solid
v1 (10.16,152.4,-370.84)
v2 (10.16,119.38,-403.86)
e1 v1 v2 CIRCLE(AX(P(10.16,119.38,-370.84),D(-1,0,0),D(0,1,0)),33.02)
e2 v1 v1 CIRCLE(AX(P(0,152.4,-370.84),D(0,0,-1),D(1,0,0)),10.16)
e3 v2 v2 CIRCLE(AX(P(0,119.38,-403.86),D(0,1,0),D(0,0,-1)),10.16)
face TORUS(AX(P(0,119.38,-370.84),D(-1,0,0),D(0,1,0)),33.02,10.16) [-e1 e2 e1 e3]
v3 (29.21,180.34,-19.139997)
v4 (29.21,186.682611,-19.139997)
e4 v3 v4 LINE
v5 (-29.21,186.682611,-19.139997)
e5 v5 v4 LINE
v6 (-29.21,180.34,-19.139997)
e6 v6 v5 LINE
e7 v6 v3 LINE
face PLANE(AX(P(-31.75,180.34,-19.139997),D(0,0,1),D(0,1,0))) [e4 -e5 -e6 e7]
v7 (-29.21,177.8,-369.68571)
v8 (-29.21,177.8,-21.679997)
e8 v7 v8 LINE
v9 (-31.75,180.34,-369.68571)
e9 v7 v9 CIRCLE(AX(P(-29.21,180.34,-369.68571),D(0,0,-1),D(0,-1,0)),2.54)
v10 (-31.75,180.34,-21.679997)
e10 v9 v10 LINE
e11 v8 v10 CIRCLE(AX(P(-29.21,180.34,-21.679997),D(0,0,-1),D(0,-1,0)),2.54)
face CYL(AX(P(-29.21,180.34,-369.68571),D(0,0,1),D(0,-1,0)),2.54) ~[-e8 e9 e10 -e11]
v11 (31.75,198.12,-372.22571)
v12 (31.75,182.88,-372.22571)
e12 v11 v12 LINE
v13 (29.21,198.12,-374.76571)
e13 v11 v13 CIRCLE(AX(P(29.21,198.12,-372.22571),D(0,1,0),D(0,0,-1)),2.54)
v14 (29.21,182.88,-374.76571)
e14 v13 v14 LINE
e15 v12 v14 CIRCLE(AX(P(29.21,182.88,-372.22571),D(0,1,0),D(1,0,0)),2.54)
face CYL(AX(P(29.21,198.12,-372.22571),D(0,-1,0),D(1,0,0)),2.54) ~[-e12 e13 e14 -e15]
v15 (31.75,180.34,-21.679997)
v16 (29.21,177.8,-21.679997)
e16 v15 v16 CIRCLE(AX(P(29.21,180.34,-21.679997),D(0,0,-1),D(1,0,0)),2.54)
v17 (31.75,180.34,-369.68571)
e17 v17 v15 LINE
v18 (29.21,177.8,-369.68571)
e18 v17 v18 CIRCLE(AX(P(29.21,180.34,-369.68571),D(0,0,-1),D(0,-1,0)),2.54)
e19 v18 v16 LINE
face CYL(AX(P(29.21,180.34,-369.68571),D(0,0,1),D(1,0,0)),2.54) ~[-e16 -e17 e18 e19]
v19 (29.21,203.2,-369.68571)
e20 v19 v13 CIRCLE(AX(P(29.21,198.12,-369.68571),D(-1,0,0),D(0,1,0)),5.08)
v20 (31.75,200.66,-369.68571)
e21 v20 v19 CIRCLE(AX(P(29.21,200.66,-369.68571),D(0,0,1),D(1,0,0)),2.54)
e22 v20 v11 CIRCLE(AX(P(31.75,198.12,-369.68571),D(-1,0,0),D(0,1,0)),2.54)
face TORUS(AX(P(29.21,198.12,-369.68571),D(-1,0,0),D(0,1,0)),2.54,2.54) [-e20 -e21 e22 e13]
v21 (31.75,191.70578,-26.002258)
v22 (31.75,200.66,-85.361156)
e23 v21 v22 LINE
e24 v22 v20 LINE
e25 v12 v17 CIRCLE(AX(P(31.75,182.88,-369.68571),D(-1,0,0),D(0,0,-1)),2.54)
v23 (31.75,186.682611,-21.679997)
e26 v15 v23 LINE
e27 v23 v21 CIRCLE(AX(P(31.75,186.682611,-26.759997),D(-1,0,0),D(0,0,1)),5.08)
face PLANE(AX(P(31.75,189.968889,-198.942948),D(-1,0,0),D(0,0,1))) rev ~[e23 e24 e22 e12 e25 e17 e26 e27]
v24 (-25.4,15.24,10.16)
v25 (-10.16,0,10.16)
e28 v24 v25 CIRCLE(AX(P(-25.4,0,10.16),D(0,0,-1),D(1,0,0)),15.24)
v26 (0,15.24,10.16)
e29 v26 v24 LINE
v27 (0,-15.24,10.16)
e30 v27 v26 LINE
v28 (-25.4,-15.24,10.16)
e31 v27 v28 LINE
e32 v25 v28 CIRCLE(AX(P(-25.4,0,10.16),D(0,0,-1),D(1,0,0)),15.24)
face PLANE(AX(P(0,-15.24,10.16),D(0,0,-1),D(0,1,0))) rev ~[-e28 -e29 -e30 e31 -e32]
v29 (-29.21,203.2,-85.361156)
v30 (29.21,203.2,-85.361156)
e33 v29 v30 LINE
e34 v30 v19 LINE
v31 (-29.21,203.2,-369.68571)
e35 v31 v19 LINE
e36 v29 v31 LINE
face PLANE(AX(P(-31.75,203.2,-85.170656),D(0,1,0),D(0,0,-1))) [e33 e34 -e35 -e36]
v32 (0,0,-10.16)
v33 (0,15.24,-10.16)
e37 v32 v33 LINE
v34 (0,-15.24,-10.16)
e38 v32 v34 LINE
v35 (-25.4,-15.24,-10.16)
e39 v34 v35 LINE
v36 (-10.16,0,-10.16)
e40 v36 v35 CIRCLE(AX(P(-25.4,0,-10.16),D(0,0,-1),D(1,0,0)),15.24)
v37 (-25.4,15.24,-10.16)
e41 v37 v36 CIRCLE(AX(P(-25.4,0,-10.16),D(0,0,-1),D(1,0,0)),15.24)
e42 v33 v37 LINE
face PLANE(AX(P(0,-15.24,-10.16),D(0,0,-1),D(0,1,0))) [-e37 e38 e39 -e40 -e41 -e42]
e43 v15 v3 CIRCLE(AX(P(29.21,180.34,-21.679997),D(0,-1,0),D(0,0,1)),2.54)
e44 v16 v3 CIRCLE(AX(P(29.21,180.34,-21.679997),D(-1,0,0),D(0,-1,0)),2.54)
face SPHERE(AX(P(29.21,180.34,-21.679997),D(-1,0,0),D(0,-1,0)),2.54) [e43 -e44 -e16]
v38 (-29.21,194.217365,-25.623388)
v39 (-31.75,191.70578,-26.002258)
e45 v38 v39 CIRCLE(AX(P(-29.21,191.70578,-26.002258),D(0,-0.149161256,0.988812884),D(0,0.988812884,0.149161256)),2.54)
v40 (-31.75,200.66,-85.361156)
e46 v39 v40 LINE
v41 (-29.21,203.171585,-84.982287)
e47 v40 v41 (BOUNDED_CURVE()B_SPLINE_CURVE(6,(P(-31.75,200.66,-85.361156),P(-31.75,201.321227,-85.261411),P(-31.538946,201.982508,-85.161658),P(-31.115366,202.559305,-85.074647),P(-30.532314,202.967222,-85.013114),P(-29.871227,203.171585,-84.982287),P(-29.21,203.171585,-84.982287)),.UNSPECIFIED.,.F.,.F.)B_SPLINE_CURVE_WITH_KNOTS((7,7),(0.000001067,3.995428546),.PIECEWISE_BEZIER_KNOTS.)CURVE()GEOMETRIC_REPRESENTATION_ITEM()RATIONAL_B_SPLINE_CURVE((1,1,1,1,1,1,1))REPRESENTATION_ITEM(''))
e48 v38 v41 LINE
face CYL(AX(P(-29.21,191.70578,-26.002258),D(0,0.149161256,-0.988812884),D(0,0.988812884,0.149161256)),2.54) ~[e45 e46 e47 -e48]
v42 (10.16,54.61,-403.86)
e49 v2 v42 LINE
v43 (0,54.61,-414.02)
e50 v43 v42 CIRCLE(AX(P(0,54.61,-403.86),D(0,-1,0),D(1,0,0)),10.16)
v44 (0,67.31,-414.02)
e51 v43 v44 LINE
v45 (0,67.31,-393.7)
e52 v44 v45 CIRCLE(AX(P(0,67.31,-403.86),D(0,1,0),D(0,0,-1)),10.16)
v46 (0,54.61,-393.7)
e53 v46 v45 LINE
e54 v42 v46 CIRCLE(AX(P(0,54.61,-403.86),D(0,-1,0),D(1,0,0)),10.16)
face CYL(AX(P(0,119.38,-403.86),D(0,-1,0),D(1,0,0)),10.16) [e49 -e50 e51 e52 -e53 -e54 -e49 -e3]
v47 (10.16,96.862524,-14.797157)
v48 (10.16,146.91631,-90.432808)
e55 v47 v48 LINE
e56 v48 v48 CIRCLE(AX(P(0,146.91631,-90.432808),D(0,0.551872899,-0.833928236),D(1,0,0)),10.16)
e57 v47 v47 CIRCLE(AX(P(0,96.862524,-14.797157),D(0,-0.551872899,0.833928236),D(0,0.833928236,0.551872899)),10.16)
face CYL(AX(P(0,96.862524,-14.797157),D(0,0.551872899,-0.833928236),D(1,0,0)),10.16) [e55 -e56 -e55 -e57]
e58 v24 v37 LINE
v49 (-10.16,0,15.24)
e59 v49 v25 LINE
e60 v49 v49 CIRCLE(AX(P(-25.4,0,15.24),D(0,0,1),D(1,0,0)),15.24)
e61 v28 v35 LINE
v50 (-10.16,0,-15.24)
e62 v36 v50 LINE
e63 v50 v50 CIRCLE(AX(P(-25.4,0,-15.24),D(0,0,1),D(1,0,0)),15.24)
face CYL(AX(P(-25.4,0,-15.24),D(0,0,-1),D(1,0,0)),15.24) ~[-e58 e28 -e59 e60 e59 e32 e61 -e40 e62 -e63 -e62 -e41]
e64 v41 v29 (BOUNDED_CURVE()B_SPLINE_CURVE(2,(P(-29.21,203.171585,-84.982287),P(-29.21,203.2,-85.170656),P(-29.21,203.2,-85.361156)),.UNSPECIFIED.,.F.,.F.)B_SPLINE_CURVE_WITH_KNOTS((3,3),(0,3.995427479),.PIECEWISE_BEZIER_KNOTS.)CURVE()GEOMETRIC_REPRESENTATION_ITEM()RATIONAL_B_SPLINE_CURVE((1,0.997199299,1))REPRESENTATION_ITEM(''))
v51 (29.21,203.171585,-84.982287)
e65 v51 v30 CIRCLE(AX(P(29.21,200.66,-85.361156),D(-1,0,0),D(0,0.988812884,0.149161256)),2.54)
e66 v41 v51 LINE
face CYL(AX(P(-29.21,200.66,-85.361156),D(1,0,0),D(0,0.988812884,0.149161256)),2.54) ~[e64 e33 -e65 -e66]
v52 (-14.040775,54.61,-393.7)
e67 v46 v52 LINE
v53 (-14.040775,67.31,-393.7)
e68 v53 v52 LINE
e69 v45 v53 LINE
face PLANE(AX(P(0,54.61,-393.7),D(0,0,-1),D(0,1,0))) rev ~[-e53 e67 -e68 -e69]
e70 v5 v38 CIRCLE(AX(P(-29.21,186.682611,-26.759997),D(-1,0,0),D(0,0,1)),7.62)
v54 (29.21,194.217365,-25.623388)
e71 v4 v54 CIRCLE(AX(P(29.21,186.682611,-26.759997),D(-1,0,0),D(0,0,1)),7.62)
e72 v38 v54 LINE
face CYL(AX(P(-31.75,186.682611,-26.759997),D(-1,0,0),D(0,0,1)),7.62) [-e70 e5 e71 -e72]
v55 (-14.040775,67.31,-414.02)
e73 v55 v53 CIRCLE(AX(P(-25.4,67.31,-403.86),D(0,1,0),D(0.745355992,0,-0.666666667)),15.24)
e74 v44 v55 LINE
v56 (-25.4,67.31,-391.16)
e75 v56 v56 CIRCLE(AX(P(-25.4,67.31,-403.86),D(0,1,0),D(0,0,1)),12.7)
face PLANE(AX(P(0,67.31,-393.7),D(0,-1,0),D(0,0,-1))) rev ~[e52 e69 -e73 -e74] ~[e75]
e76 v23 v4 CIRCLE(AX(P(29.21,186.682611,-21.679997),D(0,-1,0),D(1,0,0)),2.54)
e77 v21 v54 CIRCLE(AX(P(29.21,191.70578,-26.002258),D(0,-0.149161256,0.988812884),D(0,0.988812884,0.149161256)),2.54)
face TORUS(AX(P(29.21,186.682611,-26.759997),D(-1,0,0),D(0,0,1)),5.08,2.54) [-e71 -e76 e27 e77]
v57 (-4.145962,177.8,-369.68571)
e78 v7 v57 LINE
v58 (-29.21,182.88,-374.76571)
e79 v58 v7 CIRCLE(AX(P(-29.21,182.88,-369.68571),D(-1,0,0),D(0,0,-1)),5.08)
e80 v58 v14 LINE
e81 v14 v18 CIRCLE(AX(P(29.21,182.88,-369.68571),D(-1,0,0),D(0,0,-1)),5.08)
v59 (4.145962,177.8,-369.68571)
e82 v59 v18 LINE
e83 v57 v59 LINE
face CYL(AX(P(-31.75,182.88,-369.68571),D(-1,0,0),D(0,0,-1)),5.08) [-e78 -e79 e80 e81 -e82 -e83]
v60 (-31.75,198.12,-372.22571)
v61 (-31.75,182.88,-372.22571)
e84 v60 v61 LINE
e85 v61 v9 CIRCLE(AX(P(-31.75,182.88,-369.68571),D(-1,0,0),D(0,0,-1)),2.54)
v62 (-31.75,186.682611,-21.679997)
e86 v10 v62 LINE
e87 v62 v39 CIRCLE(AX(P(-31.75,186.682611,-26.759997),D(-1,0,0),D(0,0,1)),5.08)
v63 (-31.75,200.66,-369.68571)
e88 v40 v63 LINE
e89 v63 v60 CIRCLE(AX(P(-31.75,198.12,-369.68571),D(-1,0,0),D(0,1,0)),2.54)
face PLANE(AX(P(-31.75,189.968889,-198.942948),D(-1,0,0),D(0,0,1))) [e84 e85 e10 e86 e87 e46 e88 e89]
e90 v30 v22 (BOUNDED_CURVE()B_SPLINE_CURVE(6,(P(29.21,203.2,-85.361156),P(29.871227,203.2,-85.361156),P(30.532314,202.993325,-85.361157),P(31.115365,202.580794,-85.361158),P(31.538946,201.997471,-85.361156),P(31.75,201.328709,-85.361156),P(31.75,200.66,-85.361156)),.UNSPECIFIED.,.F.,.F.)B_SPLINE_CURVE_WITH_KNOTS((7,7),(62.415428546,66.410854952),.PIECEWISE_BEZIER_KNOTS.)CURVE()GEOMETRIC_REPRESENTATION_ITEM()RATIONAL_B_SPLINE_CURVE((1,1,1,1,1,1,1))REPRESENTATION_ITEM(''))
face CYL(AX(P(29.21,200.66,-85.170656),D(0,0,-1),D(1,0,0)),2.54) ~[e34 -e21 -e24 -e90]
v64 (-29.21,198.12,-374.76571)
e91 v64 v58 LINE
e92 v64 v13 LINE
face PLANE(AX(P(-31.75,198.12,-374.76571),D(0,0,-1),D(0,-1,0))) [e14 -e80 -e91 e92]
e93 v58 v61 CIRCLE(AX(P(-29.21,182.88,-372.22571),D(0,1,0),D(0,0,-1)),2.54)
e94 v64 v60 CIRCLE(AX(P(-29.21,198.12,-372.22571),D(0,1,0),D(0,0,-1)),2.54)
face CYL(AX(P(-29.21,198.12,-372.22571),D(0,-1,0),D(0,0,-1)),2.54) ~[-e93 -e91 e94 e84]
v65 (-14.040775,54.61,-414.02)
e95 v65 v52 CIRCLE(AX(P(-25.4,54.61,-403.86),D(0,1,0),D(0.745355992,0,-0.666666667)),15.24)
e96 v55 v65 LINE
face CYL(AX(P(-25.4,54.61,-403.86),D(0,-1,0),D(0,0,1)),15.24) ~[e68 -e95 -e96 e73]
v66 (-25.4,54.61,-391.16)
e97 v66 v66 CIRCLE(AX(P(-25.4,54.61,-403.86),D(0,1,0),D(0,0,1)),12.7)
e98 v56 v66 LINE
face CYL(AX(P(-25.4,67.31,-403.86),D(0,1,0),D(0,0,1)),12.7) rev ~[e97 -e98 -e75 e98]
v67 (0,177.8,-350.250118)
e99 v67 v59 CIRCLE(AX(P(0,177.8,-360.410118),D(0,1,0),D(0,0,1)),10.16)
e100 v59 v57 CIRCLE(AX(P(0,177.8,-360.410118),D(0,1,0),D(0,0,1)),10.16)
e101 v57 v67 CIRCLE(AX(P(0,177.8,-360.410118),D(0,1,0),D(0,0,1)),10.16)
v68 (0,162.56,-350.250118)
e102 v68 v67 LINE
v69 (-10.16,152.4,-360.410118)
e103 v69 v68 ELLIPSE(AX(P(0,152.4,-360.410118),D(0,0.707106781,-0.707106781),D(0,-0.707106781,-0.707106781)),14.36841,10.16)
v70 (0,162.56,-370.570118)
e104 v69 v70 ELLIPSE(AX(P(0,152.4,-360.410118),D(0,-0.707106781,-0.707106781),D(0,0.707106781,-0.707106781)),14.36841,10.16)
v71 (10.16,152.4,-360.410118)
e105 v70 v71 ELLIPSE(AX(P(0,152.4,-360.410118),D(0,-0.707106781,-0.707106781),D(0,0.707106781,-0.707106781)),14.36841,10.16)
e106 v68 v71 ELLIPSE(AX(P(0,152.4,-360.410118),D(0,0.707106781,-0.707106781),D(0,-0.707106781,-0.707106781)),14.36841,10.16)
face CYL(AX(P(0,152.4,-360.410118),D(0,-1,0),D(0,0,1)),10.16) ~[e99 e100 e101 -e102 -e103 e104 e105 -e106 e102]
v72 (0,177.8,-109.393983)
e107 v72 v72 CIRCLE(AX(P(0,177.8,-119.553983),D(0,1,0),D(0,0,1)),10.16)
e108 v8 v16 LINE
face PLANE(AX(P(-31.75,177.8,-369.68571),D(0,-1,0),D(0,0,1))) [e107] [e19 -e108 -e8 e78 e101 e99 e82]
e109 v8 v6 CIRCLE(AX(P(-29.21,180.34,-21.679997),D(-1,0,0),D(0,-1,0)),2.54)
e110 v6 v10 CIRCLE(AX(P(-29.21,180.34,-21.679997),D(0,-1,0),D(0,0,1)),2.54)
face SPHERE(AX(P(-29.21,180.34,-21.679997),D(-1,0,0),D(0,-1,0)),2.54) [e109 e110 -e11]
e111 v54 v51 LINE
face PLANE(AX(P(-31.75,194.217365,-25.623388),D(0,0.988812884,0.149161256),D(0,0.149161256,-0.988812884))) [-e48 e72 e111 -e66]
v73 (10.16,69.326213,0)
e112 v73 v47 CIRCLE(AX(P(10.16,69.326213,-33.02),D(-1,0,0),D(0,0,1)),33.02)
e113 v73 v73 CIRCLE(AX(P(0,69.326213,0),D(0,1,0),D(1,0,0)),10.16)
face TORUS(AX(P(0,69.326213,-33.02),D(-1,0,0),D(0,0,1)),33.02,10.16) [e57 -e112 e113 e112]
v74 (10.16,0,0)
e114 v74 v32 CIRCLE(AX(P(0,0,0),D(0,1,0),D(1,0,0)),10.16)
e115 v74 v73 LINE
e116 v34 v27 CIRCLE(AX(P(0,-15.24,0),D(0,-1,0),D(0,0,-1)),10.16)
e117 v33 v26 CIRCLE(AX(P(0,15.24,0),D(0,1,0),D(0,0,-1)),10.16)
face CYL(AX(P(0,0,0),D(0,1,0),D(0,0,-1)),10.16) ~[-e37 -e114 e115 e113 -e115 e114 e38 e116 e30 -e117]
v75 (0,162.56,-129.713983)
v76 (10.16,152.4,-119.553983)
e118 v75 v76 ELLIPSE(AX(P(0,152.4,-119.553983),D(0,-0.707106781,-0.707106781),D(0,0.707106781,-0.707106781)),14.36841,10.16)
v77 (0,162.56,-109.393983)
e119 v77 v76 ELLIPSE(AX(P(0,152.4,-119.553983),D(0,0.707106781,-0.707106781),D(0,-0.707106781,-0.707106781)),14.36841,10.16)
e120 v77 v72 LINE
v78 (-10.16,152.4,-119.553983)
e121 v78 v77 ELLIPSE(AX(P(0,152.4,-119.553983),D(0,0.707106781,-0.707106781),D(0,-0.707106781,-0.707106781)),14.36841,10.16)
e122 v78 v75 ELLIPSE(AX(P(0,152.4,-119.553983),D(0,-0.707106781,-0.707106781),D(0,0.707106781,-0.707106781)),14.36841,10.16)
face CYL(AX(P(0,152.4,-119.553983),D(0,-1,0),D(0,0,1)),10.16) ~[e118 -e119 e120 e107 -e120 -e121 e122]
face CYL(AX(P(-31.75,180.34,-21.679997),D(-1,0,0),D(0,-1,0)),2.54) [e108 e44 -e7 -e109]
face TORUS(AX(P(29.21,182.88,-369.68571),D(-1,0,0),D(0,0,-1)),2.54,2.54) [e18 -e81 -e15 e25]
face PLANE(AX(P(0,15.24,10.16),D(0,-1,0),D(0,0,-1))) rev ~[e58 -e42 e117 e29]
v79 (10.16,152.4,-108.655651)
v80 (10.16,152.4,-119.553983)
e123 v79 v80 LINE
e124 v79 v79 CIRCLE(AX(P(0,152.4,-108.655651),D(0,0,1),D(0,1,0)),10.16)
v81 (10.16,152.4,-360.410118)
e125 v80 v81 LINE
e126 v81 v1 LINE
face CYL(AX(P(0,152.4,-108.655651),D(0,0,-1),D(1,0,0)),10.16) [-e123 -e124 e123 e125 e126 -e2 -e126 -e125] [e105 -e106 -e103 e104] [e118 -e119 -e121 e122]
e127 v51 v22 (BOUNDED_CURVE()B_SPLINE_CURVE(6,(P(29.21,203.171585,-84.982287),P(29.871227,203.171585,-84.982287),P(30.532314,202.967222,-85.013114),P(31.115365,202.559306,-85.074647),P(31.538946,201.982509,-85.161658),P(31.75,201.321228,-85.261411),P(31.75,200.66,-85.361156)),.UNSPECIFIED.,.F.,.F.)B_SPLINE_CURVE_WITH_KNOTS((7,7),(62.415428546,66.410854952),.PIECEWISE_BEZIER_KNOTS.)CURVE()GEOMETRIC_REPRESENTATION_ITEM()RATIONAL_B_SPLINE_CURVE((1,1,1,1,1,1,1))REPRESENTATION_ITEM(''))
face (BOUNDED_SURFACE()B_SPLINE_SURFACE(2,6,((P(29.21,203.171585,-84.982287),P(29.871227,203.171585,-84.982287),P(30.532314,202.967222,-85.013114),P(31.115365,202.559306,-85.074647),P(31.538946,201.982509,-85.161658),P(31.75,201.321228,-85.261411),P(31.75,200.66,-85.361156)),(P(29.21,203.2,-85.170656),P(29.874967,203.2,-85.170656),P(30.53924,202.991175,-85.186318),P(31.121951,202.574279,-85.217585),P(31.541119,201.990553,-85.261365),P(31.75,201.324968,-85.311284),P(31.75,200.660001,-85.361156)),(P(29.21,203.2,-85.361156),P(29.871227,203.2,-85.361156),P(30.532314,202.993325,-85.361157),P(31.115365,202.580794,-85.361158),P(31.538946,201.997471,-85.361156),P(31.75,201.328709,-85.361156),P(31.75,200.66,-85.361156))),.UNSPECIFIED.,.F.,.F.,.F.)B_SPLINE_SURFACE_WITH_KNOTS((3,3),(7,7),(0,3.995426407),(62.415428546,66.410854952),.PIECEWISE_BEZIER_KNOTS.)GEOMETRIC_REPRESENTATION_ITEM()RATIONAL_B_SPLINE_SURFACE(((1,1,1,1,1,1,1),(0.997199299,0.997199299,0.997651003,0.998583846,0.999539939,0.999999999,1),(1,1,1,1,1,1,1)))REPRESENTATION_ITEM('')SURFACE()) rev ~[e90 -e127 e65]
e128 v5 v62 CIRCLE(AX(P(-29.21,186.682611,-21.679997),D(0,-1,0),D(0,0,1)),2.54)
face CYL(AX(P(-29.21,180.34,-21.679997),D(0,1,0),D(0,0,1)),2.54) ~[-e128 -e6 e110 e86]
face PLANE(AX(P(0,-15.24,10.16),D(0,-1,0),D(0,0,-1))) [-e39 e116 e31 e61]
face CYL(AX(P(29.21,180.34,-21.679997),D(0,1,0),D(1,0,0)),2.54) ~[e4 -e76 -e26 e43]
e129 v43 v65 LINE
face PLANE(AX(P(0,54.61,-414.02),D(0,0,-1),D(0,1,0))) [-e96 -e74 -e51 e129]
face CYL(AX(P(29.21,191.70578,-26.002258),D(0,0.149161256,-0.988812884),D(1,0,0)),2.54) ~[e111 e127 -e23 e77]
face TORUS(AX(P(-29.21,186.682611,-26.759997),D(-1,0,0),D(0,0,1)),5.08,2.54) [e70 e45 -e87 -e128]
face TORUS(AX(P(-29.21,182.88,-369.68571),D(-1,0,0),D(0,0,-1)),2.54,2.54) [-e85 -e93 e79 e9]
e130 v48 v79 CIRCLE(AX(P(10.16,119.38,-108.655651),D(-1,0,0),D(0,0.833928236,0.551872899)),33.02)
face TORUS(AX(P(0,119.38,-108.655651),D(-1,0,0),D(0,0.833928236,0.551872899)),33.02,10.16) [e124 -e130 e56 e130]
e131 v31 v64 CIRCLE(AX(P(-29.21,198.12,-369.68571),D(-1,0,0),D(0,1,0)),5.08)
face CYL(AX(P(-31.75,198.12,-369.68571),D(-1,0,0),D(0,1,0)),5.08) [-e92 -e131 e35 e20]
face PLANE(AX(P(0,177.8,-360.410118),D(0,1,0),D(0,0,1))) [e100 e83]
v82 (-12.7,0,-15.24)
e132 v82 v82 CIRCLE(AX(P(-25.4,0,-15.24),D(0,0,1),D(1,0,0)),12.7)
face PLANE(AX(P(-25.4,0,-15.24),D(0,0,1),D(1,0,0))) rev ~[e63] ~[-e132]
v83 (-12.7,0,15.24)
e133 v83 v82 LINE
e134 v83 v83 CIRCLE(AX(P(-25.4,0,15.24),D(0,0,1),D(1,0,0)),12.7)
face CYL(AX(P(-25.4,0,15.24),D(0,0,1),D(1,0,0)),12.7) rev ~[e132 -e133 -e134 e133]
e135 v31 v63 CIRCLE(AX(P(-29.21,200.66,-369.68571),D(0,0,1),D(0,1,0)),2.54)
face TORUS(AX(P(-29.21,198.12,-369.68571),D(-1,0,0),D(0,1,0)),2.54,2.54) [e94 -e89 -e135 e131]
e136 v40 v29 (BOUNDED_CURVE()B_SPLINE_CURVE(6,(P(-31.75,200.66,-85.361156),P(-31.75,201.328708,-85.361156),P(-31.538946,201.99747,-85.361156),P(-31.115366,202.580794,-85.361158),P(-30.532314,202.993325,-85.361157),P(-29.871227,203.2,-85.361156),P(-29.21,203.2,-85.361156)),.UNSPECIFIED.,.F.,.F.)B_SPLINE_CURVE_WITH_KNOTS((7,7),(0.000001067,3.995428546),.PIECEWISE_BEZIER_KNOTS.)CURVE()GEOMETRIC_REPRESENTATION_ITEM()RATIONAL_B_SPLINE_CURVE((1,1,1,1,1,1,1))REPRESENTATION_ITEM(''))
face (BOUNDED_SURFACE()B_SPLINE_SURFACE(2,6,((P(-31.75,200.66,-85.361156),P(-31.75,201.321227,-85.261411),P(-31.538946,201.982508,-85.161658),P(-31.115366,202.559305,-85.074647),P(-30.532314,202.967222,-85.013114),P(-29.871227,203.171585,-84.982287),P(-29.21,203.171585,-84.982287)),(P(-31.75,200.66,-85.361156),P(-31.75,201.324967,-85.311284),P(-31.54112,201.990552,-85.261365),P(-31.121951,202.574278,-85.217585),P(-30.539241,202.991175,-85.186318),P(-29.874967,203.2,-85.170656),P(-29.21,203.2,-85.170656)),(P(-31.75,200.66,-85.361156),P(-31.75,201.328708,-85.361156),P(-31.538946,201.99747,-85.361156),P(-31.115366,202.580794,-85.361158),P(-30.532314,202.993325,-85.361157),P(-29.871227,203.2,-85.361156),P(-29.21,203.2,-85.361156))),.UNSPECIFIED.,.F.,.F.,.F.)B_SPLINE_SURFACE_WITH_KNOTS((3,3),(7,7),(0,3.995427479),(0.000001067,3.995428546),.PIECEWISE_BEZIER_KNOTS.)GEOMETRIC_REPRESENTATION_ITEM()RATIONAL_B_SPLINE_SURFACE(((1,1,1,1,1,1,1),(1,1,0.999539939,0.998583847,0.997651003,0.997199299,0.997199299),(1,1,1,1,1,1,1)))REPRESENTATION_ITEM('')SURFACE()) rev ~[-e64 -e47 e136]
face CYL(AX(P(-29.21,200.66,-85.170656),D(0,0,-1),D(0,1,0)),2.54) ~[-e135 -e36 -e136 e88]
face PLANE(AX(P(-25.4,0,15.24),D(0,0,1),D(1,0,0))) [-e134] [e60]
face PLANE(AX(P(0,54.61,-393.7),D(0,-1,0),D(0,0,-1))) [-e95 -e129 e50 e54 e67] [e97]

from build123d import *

# Parameters (mm, degrees)
SKETCH2_R                = 10.16
BOSS_EXTRUDE1_DEPTH      = 15.24
BOSS_EXTRUDE1_DEPTH_BACK = 15.24
SKETCH4_R                = 15.24
SKETCH5_R                = 10.16
BOSS_EXTRUDE2_DEPTH      = 15.24
SKETCH6_W                = 20.32
SKETCH6_H                = 30.48
BOSS_EXTRUDE3_DEPTH      = 25.4
SKETCH7_R                = 12.7
CUT_EXTRUDE1_DEPTH       = 461.805285208
SKETCH8_R                = 15.24
BOSS_EXTRUDE4_DEPTH      = 12.7
SKETCH10_W               = 20.32
SKETCH10_H               = 12.7
BOSS_EXTRUDE5_DEPTH      = 25.4
SKETCH11_R               = 12.7
CUT_EXTRUDE2_DEPTH       = 25.4
SKETCH12_R               = 10.16
BOSS_EXTRUDE6_DEPTH      = 25.4
BOSS_EXTRUDE7_DEPTH      = 31.75
BOSS_EXTRUDE7_DEPTH_BACK = 31.75
FILLET1_R                = 2.54
FILLET2_R                = 2.54


with BuildPart() as part:
    # Sweep1: sweep along a path in Sketch1
    with BuildLine(Plane(origin=(0, 0, 0), x_dir=(0, 0, -1), z_dir=(1, 0, 0))) as sweep1_path:
        Line((0, 0), (0, 69.32621332))
        ThreePointArc((0, 69.32621332), (3.933588394, 84.956346393), (14.797156867, 96.862523678))
        Line((14.797156867, 96.862523678), (90.432807933, 146.916310358))
        ThreePointArc((90.432807933, 146.916310358), (99.140625265, 150.999371974), (108.655651066, 152.4))
        Line((108.655651066, 152.4), (370.83999995, 152.4))
        ThreePointArc((370.83999995, 152.4), (394.188665865, 142.728665915), (403.85999995, 119.38))
        Line((403.85999995, 119.38), (403.85999995, 54.61))
    # Sketch2 → Sweep1 (sweep)
    with BuildSketch(Plane(origin=(0, 0, 0), x_dir=(1, 0, 0), z_dir=(0, 1, 0))):
        Circle(SKETCH2_R)
    sweep(path=sweep1_path.line)

    # Sketch5 → Boss-Extrude2 (add)
    with BuildSketch(Plane.XZ):
        with Locations(Location((0, 0, 0), (0, 0, 270))):
            Circle(SKETCH5_R)
    extrude(amount=BOSS_EXTRUDE2_DEPTH)



with BuildPart() as body_2:
    # Sketch4 → Boss-Extrude1 (new, two sides: drawn at the far end of the back side and taken through both)
    with BuildSketch(Plane.XY.offset(-BOSS_EXTRUDE1_DEPTH_BACK)):
        with Locations((-25.4, 0)):
            Circle(SKETCH4_R)
    extrude(amount=BOSS_EXTRUDE1_DEPTH + BOSS_EXTRUDE1_DEPTH_BACK)


with BuildPart() as part_1:
    add(part.part)

    add(body_2.part)  # Boss-Extrude3 merges body 2
    # Sketch6 → Boss-Extrude3 (add)
    with BuildSketch(Plane(origin=(0, 0, 0), x_dir=(0, 0, -1), z_dir=(1, 0, 0))):
        Rectangle(SKETCH6_W, SKETCH6_H)
    extrude(amount=-BOSS_EXTRUDE3_DEPTH)

    # Sketch7 → Cut-Extrude1 (cut, through all)
    with BuildSketch(Plane.XY.offset(15.24)):
        with Locations((-25.4, 0)):
            Circle(SKETCH7_R)
    extrude(amount=-CUT_EXTRUDE1_DEPTH, mode=Mode.SUBTRACT)



with BuildPart() as body_2_2:
    # Sketch8 → Boss-Extrude4 (new body)
    with BuildSketch(Plane(origin=(0, 54.61, 0), x_dir=(1, 0, 0), z_dir=(0, 1, 0))):
        with Locations(Location((-25.4, 403.85999995, 0), (0, 0, 270))):
            Circle(SKETCH8_R)
    extrude(amount=BOSS_EXTRUDE4_DEPTH)


with BuildPart() as part_2:
    add(part_1.part)

    add(body_2_2.part)  # Boss-Extrude5 merges body 2 2
    # Sketch10 → Boss-Extrude5 (add)
    with BuildSketch(Plane(origin=(0, 0, 0), x_dir=(0, 0, -1), z_dir=(1, 0, 0))):
        with Locations((403.85999995, 60.96)):
            Rectangle(SKETCH10_W, SKETCH10_H)
    extrude(amount=-BOSS_EXTRUDE5_DEPTH)

    # Sketch11 → Cut-Extrude2 (cut)
    with BuildSketch(Plane(origin=(0, 67.31, 0), x_dir=(1, 0, 0), z_dir=(0, 1, 0))):
        with Locations(Location((-25.4, 403.85999995, 0), (0, 0, 270))):
            Circle(SKETCH11_R)
    extrude(amount=-CUT_EXTRUDE2_DEPTH, mode=Mode.SUBTRACT)

    # Sketch12 → Boss-Extrude6 (add)
    with BuildSketch(Plane(origin=(0, 152.4, 0), x_dir=(1, 0, 0), z_dir=(0, 1, 0))):
        with Locations(Location((0, 360.410118202, 0), (0, 0, 270))):
            Circle(SKETCH12_R)
        with Locations(Location((0, 119.55398348, 0), (0, 0, 270))):
            Circle(SKETCH12_R)
    extrude(amount=BOSS_EXTRUDE6_DEPTH)

    # Sketch13 → Boss-Extrude7 (add, two sides: drawn at the far end of the back side and taken through both)
    with BuildSketch(Plane(origin=(0, 0, 0), x_dir=(0, 0, -1), z_dir=(1, 0, 0)).offset(-BOSS_EXTRUDE7_DEPTH_BACK)):
        with BuildLine():
            Line((369.685709653, 177.8), (21.679996961, 177.8))
            ThreePointArc((21.679996961, 177.8), (19.883945737, 178.543948776), (19.139996961, 180.34))
            Line((19.139996961, 180.34), (19.139996961, 186.682610789))
            ThreePointArc((19.139996961, 186.682610789), (20.983953383, 191.652693342), (25.623388191, 194.217364966))
            Line((25.623388191, 194.217364966), (85.170656017, 203.2))
            Line((85.170656017, 203.2), (369.685709653, 203.2))
            ThreePointArc((369.685709653, 203.2), (373.277812101, 201.712102448), (374.765709653, 198.12))
            Line((374.765709653, 198.12), (374.765709653, 182.88))
            ThreePointArc((374.765709653, 182.88), (373.277812101, 179.287897552), (369.685709653, 177.8))
        make_face()
    extrude(amount=BOSS_EXTRUDE7_DEPTH + BOSS_EXTRUDE7_DEPTH_BACK)

    # Fillet1
    fillet1_edges = [part_2.edges().sort_by_distance(p)[0] for p in [
        (-31.75, 177.8, -195.682853307),
        (-31.75, 198.708682483, -55.397022104),
        (-31.75, 203.2, -227.428182835),
        (-31.75, 201.712102448, -373.277812101),
        (-31.75, 190.5, -374.765709653),
        (-31.75, 179.287897552, -373.277812101),
        (-31.75, 178.543948776, -19.883945737),
        (-31.75, 183.511305395, -19.139996961),
        (-31.75, 191.652693342, -20.983953383),
        (31.75, 198.708682483, -55.397022104),
        (31.75, 191.652693342, -20.983953383),
        (31.75, 183.511305395, -19.139996961),
        (31.75, 178.543948776, -19.883945737),
        (31.75, 177.8, -195.682853307),
        (31.75, 179.287897552, -373.277812101),
        (31.75, 190.5, -374.765709653),
        (31.75, 201.712102448, -373.277812101),
        (31.75, 203.2, -227.428182835),
    ]]
    fillet(fillet1_edges, radius=FILLET1_R)

    # Fillet2
    fillet2_edges = [part_2.edges().sort_by_distance(p)[0] for p in [
        (0, 203.2, -85.170656017),
        (-31.007309319, 202.454792247, -85.226546707),
        (31.007309319, 202.454792247, -85.226546707),
    ]]
    fillet(fillet2_edges, radius=FILLET2_R)


solid = part_2.part
